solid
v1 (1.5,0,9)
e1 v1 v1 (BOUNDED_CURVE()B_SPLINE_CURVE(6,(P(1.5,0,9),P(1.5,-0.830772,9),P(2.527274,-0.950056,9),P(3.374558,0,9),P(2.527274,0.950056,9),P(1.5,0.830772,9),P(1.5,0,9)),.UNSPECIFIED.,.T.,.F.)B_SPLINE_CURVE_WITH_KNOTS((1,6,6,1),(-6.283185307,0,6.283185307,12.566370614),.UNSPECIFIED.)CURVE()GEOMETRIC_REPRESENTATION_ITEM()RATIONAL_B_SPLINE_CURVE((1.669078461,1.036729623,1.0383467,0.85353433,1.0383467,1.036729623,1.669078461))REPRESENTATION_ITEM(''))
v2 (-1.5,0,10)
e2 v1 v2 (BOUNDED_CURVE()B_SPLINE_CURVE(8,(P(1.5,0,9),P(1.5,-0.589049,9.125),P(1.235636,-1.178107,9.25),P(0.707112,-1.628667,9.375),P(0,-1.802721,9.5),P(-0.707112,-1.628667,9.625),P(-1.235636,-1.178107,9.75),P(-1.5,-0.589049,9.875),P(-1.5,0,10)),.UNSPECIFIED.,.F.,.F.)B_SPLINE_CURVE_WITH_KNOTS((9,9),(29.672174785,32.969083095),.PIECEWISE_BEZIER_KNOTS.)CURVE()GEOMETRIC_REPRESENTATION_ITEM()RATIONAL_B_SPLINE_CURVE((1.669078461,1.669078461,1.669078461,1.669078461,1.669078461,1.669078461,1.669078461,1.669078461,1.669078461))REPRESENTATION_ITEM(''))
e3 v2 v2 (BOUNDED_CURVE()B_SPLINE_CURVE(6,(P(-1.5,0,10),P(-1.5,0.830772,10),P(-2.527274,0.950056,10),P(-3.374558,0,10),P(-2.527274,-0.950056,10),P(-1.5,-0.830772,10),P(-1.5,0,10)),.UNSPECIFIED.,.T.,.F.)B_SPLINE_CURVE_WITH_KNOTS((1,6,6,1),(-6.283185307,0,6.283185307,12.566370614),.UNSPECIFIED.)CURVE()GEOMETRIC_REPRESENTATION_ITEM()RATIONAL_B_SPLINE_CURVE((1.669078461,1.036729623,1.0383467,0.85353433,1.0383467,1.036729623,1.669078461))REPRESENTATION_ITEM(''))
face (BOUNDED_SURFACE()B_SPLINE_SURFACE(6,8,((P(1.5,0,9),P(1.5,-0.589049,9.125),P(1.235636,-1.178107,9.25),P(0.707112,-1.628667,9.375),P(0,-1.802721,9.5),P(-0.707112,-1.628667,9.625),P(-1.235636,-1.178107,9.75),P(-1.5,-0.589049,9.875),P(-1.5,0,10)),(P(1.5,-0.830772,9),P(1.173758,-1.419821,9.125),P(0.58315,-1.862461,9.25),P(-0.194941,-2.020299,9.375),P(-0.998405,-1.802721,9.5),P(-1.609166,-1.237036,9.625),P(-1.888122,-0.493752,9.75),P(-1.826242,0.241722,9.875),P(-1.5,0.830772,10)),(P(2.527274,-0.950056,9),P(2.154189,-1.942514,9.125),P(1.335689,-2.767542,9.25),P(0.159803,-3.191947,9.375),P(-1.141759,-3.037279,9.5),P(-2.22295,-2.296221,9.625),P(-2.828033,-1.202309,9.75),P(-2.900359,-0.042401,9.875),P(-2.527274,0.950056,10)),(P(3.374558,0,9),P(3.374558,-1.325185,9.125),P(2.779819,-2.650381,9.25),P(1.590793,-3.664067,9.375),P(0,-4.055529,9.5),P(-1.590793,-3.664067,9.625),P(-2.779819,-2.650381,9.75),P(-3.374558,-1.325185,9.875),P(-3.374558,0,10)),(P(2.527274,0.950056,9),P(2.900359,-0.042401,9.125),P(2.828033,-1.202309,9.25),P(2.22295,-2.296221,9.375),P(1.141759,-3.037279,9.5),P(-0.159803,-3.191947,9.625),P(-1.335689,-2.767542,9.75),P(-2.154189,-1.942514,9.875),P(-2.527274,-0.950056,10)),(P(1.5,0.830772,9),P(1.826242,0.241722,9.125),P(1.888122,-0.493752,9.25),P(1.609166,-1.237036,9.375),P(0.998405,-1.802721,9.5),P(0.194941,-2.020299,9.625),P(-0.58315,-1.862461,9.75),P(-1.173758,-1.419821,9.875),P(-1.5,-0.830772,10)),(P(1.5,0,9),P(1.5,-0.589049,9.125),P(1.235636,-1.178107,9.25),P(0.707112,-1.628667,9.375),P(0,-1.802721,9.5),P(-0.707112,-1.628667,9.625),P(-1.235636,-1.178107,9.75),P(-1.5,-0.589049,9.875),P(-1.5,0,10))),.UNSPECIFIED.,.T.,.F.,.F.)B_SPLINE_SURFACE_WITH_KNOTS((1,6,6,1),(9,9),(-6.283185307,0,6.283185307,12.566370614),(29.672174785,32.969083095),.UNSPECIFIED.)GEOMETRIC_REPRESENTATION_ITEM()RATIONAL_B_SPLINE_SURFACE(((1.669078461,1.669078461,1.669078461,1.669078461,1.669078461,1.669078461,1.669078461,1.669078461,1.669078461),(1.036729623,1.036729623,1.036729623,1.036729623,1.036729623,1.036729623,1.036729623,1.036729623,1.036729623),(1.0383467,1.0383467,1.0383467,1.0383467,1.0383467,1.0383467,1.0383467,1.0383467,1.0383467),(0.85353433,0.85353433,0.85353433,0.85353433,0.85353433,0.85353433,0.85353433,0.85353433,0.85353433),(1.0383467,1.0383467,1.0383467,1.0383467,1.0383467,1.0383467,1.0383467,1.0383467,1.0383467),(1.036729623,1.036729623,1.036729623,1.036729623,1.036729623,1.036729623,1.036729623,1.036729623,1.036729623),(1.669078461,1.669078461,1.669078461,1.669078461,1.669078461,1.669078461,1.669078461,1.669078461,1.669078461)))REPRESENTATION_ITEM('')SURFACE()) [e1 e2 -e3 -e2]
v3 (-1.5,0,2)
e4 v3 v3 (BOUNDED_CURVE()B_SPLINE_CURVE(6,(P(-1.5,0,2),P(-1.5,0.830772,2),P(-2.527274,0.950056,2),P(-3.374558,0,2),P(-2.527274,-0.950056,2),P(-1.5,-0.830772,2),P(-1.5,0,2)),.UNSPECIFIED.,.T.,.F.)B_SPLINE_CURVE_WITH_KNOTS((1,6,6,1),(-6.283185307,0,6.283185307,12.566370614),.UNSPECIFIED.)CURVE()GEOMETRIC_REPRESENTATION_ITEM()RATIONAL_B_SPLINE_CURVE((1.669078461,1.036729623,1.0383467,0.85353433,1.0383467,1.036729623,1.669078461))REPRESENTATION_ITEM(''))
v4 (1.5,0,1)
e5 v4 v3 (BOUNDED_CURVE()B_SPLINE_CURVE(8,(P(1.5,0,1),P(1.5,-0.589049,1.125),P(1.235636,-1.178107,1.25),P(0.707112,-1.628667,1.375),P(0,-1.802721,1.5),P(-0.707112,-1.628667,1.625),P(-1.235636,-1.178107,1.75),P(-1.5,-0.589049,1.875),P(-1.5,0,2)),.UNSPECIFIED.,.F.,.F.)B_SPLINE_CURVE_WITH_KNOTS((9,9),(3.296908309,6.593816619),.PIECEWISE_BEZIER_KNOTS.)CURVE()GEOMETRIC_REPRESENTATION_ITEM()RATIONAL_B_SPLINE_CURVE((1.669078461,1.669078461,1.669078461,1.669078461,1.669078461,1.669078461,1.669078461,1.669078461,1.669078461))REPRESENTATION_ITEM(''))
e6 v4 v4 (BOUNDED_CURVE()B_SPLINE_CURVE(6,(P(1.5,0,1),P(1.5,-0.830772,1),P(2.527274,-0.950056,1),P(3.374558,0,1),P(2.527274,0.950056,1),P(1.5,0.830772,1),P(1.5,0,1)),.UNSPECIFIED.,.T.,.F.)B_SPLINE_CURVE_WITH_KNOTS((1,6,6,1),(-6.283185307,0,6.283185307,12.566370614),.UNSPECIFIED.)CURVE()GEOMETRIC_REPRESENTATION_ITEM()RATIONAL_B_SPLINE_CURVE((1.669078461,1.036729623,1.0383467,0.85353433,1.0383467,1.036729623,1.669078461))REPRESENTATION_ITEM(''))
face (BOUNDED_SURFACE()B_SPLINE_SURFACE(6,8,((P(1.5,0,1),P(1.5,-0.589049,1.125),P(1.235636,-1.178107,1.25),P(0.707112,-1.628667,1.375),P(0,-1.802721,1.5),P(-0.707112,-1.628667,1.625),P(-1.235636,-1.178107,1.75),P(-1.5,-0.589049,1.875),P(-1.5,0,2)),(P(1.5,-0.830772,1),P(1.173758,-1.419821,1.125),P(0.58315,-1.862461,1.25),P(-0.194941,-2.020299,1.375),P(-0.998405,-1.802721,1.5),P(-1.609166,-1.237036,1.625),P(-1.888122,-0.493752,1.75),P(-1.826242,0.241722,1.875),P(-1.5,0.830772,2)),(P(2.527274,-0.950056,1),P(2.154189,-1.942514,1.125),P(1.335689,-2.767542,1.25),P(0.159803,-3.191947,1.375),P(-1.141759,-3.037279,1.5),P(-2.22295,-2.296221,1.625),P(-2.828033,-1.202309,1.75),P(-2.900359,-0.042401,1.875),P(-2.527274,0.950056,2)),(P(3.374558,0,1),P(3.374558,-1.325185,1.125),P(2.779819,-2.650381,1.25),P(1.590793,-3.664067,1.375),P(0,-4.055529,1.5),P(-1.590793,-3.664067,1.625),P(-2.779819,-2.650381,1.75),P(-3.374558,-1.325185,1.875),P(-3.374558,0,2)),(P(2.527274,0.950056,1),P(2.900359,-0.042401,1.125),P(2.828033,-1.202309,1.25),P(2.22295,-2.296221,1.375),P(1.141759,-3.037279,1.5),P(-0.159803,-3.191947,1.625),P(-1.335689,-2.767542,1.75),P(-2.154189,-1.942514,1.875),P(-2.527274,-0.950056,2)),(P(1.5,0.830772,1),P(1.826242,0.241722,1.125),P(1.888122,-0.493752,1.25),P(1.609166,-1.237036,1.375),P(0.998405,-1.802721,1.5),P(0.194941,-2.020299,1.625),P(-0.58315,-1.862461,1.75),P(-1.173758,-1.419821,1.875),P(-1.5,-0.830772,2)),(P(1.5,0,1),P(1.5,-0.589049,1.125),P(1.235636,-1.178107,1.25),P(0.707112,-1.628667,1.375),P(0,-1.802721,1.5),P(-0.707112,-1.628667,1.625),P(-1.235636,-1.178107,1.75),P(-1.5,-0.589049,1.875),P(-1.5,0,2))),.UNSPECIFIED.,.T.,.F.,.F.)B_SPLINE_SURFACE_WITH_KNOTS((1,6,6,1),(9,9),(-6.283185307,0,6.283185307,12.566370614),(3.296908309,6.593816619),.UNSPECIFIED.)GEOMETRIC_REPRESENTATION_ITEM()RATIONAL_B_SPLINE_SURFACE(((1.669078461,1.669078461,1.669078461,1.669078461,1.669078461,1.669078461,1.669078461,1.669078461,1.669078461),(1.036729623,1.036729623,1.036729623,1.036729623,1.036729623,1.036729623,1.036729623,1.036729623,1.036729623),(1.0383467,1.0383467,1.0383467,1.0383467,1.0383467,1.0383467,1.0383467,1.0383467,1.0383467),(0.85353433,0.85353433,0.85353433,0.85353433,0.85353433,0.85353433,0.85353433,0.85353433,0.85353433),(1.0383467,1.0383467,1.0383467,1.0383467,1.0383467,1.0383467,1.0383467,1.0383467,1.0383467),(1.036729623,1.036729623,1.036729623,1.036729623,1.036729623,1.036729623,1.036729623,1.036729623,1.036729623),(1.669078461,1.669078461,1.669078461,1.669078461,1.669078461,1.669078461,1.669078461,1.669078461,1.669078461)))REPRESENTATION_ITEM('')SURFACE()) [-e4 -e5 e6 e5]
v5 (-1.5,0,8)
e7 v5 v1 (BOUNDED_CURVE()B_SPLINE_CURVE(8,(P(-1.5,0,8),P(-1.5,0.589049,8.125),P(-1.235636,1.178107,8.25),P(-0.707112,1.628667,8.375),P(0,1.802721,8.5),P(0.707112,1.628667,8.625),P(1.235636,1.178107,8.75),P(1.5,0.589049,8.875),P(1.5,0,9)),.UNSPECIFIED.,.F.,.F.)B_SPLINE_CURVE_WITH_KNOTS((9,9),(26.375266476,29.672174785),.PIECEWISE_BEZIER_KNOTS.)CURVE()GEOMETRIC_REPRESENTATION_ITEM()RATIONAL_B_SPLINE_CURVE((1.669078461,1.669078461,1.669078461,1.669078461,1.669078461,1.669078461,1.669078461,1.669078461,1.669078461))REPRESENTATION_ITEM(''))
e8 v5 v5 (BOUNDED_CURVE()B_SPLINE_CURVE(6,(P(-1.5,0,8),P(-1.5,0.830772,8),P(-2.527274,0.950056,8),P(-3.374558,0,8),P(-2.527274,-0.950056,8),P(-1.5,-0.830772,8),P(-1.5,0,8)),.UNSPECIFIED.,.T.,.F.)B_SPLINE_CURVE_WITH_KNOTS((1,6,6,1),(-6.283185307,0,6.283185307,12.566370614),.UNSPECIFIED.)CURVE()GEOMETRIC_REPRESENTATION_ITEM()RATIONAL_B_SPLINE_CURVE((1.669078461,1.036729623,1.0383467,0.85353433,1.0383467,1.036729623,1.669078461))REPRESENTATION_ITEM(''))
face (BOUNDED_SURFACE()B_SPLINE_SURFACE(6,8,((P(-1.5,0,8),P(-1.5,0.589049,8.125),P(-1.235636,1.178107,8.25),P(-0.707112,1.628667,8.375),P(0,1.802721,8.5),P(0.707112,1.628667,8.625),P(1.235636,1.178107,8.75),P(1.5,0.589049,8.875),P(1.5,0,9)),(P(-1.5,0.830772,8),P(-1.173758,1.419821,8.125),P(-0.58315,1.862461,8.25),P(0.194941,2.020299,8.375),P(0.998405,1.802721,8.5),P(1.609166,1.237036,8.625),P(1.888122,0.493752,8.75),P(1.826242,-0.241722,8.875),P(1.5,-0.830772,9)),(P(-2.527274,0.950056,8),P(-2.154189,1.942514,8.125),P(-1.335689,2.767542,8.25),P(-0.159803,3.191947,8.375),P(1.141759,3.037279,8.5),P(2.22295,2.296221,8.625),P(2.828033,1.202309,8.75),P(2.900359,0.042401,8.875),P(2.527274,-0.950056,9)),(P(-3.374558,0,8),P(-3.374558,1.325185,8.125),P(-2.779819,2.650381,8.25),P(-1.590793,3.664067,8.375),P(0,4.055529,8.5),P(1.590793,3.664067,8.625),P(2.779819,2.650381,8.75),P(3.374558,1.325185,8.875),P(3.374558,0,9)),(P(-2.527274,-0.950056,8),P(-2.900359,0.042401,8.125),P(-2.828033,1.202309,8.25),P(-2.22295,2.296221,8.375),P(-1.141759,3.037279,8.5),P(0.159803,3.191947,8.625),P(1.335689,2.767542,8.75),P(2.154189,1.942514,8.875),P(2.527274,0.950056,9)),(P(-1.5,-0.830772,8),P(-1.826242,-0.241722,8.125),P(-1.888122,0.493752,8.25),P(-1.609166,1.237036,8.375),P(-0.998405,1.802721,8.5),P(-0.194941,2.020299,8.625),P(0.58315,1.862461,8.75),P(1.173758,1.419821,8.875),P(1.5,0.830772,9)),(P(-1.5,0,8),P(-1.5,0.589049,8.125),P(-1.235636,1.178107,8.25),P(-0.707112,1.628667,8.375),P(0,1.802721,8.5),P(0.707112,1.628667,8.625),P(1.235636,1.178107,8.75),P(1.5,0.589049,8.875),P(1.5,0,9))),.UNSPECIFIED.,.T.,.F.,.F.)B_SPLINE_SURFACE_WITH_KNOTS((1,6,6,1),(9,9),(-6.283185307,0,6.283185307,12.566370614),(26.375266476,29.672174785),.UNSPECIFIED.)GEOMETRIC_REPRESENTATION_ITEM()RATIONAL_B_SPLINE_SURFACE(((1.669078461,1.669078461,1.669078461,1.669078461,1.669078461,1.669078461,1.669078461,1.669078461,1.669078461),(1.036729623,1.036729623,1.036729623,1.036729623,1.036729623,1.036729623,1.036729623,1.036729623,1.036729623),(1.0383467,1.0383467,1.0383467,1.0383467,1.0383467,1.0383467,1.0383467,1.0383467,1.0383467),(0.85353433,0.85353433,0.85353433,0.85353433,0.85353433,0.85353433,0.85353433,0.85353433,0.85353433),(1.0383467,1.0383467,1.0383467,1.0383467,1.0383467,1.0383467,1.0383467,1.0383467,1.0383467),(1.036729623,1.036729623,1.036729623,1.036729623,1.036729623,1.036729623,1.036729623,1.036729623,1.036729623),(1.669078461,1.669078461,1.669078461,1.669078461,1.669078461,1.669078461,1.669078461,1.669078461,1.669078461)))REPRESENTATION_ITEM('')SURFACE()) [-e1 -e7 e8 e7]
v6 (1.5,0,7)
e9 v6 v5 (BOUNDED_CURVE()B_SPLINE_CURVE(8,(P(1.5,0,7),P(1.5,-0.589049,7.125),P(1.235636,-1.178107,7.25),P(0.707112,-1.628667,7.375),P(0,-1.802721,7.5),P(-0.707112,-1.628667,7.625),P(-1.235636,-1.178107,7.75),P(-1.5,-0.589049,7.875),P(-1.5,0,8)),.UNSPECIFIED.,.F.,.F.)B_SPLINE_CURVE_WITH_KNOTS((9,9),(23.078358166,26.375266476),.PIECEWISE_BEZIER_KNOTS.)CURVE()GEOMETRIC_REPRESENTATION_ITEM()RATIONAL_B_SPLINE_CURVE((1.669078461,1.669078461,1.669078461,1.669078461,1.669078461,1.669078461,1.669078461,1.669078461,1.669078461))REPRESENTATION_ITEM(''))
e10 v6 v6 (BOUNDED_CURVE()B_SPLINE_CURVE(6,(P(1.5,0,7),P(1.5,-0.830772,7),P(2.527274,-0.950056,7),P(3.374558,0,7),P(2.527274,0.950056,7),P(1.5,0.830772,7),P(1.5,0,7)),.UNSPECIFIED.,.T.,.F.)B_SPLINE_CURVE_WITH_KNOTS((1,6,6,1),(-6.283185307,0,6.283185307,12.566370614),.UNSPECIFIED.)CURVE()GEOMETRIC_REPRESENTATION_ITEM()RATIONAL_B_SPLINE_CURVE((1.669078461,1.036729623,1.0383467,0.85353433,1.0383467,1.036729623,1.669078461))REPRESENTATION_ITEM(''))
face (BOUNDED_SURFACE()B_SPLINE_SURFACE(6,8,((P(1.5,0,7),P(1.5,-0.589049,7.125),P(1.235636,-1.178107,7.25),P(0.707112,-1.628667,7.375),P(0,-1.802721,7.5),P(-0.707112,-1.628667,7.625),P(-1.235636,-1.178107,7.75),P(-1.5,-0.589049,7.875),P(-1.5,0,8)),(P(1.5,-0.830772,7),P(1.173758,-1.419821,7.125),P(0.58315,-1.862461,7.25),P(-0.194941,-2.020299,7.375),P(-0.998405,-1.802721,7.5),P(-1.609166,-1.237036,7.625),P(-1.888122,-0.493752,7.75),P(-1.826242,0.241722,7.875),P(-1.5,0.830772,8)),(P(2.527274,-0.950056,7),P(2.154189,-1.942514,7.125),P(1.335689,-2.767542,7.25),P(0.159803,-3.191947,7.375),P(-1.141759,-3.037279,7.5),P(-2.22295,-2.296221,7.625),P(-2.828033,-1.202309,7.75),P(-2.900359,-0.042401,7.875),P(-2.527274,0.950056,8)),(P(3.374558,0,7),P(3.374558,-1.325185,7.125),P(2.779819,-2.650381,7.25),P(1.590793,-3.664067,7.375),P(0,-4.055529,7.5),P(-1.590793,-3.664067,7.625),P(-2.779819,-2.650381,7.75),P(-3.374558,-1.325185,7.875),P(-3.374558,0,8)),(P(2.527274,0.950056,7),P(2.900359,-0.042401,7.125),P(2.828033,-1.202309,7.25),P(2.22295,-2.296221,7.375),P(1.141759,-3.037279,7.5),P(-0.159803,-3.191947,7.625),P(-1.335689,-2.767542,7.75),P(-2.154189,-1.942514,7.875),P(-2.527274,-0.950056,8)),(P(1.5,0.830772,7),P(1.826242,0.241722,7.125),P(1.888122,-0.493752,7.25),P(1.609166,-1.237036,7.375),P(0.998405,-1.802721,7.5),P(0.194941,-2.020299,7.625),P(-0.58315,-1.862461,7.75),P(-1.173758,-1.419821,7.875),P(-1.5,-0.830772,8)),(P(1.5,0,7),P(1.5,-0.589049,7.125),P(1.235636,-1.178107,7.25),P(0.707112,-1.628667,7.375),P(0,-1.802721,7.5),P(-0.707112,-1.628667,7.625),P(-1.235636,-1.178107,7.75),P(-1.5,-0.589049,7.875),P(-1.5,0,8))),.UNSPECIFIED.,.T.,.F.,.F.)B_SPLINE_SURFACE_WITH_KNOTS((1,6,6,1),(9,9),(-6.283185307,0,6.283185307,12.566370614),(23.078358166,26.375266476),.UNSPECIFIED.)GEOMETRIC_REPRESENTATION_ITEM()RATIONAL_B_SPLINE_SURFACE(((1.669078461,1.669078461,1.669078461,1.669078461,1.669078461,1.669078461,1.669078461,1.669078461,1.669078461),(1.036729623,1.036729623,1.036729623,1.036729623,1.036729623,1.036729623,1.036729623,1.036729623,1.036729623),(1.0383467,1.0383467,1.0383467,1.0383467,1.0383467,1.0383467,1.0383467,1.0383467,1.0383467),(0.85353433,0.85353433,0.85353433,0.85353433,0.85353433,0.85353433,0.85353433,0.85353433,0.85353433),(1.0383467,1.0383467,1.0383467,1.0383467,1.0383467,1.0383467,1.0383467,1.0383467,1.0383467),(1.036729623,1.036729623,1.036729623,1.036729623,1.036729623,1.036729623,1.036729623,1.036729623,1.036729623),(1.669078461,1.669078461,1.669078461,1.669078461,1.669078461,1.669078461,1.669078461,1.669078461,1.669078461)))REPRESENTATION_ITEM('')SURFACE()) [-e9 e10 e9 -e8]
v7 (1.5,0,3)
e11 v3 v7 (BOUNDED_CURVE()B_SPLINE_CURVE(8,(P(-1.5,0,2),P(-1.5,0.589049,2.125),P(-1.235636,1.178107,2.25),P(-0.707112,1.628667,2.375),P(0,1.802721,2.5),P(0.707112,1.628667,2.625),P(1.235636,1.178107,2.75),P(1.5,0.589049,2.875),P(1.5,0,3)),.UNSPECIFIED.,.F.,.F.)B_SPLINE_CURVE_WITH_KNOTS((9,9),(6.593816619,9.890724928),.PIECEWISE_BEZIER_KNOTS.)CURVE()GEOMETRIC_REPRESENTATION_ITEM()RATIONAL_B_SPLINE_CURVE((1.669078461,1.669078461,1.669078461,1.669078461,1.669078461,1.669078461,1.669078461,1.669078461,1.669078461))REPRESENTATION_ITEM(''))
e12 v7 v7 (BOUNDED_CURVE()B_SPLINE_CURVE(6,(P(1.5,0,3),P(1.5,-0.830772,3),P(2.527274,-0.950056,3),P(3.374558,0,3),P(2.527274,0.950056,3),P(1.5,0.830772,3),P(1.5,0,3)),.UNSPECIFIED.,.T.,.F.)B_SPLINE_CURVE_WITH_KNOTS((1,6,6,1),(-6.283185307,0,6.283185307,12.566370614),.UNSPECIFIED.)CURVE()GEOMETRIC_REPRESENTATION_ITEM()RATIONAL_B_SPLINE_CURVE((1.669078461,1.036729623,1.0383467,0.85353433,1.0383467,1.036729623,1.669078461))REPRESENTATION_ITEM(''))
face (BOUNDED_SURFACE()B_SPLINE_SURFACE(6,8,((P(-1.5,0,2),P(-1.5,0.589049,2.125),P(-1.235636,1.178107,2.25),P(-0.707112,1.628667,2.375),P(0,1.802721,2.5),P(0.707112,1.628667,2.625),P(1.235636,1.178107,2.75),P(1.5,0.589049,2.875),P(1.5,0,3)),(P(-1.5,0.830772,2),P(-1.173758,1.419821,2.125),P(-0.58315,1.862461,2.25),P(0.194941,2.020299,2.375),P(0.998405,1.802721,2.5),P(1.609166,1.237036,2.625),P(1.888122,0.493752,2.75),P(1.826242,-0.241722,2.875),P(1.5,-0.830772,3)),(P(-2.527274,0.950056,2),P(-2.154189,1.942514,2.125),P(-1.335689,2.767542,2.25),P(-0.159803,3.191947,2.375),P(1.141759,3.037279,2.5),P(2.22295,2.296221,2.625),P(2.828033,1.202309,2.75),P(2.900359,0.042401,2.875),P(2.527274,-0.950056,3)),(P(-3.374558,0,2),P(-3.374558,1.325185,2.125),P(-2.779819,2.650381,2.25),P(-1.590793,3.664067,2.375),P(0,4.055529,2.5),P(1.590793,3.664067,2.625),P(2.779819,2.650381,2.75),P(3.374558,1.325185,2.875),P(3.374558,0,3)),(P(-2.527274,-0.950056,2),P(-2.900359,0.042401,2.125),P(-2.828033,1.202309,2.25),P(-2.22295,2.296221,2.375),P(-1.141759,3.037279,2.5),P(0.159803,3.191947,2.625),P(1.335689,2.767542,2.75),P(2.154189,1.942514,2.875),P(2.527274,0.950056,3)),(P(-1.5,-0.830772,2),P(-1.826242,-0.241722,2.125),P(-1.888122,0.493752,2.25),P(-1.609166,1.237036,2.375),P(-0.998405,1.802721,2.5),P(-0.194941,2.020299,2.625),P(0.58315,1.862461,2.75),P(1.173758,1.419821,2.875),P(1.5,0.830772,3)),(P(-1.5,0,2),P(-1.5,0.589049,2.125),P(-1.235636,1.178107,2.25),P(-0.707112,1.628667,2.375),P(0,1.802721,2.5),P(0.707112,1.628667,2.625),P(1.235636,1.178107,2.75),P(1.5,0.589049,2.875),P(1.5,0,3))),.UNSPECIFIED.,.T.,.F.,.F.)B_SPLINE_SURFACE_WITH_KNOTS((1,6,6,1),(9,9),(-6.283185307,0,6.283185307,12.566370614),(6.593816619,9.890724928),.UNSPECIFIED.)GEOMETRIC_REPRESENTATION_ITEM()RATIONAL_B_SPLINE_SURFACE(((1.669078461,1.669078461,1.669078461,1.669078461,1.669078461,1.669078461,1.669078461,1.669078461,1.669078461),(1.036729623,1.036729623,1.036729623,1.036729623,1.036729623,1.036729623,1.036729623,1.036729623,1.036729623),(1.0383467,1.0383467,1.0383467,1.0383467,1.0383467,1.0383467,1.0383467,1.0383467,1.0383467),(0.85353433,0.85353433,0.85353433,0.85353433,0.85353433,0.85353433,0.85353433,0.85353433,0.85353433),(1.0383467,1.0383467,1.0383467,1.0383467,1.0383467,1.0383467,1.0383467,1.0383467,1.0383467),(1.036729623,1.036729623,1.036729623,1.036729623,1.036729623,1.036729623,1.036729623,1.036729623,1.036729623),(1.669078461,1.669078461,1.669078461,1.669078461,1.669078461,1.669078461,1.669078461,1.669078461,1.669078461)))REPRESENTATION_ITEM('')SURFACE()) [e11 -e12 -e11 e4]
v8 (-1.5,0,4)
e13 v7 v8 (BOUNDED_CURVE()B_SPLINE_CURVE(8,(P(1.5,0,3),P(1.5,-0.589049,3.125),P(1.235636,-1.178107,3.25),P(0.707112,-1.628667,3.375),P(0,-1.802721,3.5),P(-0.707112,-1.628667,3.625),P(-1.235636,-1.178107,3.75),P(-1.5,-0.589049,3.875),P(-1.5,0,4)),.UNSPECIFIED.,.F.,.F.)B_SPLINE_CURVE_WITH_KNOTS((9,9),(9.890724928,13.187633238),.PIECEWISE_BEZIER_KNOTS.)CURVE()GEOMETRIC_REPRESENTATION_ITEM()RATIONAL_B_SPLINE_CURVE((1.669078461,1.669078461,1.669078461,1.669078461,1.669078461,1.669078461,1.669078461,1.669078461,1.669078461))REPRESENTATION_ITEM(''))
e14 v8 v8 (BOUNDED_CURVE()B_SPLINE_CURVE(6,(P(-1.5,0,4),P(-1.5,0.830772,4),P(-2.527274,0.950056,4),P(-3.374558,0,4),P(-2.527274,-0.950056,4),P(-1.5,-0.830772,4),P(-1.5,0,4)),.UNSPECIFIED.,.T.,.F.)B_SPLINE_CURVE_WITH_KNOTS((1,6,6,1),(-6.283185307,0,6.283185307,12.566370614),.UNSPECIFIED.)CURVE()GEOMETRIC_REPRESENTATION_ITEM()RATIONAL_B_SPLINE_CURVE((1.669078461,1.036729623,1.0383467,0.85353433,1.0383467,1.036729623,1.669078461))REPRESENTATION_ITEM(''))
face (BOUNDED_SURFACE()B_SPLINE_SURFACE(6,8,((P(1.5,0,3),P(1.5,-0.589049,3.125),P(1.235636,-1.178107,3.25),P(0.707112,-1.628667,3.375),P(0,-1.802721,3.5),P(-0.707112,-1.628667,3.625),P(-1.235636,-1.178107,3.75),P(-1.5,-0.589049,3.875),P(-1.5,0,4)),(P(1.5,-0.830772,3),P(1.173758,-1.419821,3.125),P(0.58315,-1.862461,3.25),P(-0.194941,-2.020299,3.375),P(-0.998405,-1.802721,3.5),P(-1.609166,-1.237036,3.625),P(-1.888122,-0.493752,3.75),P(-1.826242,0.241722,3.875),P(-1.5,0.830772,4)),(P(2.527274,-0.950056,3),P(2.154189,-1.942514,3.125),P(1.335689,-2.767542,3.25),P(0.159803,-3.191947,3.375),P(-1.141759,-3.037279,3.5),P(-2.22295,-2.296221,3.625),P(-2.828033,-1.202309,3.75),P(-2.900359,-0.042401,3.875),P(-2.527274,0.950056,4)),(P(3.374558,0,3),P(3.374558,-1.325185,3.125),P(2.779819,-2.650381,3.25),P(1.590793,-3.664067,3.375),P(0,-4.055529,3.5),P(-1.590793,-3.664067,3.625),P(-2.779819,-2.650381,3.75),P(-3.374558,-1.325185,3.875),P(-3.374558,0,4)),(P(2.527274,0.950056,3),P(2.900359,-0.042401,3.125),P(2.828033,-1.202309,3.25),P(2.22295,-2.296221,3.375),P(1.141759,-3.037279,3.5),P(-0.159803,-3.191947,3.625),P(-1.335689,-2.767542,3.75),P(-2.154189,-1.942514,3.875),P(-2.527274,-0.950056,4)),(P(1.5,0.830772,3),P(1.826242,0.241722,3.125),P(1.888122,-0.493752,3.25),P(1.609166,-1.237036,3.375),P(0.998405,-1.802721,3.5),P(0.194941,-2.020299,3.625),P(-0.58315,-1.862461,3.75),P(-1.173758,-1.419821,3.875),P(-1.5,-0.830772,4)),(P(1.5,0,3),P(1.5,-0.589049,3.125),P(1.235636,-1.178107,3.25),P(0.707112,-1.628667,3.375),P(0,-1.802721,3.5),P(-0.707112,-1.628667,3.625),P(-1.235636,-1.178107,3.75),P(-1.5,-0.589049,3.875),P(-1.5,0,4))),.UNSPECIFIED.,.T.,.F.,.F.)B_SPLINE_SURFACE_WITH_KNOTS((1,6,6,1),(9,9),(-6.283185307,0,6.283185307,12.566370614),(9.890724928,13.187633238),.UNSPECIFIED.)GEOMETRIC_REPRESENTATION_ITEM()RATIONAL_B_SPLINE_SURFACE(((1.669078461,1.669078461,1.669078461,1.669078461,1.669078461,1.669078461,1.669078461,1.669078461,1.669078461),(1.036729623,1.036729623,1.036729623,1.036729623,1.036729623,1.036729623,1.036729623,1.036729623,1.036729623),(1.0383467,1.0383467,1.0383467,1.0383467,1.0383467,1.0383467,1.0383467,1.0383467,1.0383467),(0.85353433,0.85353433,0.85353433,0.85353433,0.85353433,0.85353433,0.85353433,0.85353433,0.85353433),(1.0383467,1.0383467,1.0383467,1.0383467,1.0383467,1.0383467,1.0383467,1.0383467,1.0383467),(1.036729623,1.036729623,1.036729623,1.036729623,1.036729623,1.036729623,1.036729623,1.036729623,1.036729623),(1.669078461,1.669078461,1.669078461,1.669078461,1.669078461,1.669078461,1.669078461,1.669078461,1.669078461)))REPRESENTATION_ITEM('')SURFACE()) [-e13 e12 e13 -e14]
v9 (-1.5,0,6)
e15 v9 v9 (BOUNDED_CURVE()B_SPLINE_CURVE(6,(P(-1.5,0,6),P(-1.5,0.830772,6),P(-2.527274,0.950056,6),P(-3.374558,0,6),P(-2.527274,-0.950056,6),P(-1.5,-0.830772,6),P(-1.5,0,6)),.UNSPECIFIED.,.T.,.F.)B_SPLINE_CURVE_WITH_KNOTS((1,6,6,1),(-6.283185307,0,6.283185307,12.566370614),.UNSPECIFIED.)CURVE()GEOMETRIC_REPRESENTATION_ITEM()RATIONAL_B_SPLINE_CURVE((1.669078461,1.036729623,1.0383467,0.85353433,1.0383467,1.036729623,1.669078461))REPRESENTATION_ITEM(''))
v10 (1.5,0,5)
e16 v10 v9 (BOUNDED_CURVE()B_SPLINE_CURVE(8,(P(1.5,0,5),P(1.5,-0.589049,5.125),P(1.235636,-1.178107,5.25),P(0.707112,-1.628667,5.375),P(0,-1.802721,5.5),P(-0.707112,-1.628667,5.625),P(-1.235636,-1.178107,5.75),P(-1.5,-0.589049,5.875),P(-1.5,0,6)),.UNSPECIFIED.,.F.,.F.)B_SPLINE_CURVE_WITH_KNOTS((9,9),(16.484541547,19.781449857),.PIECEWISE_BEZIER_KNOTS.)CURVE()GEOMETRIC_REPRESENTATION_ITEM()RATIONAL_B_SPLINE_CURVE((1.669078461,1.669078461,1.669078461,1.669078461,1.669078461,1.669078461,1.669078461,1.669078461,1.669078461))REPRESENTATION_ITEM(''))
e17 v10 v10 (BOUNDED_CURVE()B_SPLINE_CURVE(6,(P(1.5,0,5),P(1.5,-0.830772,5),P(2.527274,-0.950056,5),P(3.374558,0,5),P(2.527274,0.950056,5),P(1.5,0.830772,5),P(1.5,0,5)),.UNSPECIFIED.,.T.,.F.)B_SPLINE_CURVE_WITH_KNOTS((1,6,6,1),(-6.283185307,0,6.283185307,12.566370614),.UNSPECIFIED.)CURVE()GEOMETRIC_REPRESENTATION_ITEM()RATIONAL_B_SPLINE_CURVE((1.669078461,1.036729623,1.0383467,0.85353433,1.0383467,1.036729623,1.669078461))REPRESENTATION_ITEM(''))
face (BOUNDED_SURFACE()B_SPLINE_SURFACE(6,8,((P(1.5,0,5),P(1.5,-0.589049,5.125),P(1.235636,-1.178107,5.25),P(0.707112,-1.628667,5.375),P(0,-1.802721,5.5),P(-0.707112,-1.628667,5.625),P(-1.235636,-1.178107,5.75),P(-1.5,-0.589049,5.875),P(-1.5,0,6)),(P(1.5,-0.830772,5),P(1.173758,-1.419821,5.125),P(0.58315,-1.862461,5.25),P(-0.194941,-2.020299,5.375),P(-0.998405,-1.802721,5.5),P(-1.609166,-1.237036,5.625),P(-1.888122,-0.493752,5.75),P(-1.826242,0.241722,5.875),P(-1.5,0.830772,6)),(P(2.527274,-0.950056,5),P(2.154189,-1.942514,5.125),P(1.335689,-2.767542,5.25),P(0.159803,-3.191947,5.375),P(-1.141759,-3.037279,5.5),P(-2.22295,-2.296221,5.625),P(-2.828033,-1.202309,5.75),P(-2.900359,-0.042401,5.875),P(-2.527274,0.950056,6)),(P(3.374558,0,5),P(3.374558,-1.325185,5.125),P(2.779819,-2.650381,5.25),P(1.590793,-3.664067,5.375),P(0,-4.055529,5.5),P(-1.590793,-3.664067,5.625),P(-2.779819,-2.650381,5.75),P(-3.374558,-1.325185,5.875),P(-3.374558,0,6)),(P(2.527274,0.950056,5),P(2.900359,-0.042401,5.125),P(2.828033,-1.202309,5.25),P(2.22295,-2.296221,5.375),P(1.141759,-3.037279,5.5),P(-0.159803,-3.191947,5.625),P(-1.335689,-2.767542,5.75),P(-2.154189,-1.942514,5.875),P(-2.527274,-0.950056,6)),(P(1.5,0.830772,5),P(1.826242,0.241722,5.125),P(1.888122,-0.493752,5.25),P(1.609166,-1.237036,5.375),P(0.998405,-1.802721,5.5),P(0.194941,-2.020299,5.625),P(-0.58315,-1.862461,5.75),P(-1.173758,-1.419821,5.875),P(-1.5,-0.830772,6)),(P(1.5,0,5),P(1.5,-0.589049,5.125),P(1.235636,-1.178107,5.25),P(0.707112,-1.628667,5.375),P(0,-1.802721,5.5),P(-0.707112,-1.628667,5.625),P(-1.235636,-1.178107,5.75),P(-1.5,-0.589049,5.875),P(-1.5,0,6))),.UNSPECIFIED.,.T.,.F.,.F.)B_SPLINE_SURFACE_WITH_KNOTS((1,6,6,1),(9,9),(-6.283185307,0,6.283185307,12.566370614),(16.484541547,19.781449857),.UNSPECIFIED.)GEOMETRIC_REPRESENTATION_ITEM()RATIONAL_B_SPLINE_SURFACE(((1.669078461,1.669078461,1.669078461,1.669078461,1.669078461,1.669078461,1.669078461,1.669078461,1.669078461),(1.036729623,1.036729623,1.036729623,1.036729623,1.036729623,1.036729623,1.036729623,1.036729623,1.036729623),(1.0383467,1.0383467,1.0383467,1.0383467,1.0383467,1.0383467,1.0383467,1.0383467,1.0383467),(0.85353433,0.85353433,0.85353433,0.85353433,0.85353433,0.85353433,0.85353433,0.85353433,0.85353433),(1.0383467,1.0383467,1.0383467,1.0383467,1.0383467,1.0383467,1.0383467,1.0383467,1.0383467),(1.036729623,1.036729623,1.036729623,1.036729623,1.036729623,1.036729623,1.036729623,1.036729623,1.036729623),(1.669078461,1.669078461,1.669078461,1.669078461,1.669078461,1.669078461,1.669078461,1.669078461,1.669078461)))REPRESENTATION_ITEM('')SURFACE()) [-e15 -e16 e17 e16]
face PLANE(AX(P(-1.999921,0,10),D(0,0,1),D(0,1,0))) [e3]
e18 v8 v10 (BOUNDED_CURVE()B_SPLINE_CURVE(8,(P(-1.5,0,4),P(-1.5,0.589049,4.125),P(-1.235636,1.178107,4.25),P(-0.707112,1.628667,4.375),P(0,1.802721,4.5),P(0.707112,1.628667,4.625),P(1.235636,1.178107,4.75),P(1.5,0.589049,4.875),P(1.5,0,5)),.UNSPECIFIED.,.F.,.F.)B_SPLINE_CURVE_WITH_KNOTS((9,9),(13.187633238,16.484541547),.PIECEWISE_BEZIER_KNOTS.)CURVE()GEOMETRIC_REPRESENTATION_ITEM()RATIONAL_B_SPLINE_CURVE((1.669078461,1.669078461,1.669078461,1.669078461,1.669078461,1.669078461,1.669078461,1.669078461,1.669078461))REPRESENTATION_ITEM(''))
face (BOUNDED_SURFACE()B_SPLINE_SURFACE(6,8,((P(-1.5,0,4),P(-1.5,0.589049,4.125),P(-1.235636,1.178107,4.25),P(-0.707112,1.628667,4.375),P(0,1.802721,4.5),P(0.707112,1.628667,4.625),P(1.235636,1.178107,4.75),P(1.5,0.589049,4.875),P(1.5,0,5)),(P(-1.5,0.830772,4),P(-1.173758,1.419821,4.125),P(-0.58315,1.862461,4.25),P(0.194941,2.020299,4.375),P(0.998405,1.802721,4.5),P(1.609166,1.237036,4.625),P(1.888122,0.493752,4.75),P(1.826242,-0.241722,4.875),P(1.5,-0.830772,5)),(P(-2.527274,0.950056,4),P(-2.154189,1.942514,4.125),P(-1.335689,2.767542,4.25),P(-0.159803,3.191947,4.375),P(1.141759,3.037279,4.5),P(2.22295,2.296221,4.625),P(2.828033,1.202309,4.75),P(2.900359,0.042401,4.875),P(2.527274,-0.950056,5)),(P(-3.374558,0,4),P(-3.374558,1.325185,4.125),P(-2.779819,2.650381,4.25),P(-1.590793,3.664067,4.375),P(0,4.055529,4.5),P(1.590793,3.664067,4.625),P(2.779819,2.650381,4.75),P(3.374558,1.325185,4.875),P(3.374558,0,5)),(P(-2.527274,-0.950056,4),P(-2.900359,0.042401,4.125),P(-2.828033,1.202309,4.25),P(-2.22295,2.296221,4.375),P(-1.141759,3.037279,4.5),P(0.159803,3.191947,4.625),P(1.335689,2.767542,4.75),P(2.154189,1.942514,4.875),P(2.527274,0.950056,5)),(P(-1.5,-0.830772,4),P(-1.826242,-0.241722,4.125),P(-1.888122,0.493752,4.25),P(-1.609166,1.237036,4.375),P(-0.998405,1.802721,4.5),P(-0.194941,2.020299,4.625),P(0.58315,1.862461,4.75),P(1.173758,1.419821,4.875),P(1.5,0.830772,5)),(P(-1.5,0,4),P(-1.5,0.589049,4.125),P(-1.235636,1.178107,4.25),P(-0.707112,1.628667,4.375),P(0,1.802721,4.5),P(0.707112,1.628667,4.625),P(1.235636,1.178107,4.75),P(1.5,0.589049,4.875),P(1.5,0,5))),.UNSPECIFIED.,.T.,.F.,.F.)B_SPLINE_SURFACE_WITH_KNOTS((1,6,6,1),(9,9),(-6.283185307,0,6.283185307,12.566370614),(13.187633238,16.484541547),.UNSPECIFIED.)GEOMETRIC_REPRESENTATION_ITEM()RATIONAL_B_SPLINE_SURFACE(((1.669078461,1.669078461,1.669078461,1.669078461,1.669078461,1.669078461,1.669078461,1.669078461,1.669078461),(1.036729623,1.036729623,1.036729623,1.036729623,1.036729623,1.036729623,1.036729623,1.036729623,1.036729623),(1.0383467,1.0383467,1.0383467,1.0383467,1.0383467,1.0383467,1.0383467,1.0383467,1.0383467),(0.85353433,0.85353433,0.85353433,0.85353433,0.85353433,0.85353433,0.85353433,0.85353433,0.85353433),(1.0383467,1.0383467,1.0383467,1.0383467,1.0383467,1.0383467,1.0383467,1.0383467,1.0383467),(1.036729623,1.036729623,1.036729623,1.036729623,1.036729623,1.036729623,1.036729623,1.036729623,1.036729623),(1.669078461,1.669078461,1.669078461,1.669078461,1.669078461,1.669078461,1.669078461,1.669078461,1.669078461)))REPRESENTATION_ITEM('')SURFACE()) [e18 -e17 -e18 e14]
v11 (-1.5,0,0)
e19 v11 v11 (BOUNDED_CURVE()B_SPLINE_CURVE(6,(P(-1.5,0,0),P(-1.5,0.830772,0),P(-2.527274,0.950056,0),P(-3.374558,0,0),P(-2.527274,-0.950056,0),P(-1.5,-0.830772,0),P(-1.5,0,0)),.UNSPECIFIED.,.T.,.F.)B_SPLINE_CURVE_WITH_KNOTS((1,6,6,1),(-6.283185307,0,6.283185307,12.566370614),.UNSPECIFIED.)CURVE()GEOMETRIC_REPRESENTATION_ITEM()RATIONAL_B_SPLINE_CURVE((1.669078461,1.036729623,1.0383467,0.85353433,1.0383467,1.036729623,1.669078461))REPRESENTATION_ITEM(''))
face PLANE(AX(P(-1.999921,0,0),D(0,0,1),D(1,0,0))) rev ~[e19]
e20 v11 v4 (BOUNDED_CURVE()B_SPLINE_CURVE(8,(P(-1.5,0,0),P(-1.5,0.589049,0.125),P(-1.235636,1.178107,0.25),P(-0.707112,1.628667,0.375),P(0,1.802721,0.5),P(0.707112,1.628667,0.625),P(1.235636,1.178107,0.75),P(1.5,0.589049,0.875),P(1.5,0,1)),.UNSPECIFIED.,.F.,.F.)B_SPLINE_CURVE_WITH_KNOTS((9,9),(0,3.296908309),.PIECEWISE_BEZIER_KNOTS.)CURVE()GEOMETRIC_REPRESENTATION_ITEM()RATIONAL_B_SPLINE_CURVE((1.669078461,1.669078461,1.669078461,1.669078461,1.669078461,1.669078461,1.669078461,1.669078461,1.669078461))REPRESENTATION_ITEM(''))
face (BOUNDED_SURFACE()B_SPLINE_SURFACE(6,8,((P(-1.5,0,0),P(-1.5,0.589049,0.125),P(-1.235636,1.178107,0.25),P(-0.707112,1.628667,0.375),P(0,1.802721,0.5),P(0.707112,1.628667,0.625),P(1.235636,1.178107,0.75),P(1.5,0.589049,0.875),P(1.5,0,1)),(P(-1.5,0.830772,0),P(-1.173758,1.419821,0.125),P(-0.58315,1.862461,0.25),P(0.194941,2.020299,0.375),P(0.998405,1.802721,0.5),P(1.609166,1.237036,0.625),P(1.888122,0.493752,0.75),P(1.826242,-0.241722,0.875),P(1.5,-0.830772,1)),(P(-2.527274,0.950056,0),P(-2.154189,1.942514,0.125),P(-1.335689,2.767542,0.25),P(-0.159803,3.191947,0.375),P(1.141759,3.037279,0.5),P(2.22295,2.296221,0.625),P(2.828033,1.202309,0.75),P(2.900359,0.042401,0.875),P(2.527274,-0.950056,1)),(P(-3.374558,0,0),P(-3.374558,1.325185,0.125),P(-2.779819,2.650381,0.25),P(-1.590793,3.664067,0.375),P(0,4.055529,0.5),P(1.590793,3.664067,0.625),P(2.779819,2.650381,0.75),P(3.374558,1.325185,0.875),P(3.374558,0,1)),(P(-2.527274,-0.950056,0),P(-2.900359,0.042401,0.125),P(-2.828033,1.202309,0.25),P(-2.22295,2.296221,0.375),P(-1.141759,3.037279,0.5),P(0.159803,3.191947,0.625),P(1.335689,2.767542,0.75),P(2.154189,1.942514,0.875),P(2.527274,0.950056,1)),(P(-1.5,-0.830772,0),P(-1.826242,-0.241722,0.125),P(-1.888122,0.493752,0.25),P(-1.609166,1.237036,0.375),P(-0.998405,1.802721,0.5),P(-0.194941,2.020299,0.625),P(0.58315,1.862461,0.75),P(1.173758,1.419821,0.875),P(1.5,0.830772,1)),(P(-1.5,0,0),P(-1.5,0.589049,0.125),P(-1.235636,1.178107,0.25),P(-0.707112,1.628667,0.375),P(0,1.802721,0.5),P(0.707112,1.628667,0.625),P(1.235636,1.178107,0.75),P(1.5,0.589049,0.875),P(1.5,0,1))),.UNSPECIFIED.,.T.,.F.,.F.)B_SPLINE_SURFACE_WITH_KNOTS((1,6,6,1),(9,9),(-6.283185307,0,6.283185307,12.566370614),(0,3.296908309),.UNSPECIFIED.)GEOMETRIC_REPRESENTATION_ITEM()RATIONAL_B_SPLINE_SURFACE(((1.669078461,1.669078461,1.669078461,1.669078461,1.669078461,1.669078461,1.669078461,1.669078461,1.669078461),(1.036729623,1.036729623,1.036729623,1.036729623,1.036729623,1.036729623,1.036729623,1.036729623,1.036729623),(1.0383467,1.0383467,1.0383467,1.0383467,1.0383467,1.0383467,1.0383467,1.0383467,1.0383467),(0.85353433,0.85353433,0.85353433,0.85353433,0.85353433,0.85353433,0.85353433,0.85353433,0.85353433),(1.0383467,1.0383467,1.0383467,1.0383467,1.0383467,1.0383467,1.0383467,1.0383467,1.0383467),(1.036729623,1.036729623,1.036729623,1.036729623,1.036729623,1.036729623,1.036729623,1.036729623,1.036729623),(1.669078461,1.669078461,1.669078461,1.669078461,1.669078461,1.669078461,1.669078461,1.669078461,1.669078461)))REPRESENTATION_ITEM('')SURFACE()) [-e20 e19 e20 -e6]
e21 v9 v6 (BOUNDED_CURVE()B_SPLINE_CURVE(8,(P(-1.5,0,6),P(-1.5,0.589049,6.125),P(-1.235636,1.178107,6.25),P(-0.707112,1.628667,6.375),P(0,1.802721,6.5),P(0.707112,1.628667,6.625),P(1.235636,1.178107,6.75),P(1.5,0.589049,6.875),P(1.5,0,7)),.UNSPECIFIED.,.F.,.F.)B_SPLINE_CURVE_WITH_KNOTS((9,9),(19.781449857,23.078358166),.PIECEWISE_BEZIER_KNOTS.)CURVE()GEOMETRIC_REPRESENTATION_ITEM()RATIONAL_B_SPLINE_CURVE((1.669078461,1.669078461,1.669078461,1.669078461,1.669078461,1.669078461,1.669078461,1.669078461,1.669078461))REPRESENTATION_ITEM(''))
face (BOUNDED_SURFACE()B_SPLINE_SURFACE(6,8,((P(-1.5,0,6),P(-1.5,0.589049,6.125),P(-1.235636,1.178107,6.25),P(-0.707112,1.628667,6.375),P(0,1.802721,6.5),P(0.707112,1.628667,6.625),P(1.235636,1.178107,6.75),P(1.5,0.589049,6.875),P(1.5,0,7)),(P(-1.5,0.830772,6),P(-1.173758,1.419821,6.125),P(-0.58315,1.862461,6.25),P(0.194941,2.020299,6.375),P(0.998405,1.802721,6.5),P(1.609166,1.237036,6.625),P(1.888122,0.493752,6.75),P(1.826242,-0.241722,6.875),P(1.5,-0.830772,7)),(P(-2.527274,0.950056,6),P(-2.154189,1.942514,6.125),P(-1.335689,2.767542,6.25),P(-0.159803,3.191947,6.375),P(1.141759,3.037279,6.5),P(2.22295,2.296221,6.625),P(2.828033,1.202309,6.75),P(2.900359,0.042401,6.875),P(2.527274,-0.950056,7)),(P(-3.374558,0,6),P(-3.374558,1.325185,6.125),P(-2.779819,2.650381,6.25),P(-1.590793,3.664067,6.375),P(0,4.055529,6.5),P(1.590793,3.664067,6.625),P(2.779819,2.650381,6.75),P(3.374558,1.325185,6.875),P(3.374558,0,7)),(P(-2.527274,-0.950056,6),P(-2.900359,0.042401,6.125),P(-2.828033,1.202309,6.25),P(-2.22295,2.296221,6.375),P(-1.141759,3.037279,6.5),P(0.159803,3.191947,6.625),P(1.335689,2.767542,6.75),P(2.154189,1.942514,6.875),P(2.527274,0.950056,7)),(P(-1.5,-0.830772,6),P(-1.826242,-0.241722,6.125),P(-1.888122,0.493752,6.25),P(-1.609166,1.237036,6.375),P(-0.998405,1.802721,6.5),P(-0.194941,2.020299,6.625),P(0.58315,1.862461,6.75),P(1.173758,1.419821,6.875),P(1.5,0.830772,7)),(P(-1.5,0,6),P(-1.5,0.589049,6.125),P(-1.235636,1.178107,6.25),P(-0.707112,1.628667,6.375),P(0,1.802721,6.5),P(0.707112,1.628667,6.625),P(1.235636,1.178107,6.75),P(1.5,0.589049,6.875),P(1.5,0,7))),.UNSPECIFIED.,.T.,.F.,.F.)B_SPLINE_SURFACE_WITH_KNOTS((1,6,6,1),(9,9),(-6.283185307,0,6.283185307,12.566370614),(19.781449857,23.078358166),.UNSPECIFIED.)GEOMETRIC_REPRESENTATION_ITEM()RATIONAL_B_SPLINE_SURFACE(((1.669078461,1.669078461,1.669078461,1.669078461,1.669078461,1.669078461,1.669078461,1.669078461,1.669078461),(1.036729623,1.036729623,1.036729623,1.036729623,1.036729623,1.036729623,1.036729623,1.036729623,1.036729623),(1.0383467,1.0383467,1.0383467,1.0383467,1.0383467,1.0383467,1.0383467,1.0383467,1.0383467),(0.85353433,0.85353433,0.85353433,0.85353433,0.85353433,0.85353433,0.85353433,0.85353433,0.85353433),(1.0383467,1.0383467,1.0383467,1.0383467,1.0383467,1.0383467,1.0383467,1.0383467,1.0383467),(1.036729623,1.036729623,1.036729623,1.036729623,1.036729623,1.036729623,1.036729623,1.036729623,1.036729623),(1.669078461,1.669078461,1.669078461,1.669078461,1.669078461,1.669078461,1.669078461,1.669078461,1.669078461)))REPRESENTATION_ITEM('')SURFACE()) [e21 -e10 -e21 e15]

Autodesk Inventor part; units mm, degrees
ref_plane "YZ Plane" through (0, 0, 0) normal (1, 0, 0) x (0, 1, 0)
ref_plane "XZ Plane" through (0, 0, 0) normal (0, 1, 0) x (-1, 0, 0)
ref_plane "XY Plane" through (0, 0, 0) normal (0, 0, 1) x (1, 0, 0)
sketch "Skizze4" plane through (0, 0, 0) normal (0, 0, 1) x (1, 0, 0)
  circle A0 centre (-2, 0) radius 0.5
  point P0 (0, 0)
  dimension "d12" = 2
  dimension "d13" = 1
sketch "Skizze1" plane through (0, 0, 0) normal (1, 0, 0) x (0, 1, 0)
  line L0 (0, 0) -> (0, 20)
  dimension "d0" = 20
coil "Spirale2" sketch "Skizze4" operation add axis through (0, 0, 0) along (0, 0, 1) pitch 2 turns 5 hand left
properties part number "P_spring"
